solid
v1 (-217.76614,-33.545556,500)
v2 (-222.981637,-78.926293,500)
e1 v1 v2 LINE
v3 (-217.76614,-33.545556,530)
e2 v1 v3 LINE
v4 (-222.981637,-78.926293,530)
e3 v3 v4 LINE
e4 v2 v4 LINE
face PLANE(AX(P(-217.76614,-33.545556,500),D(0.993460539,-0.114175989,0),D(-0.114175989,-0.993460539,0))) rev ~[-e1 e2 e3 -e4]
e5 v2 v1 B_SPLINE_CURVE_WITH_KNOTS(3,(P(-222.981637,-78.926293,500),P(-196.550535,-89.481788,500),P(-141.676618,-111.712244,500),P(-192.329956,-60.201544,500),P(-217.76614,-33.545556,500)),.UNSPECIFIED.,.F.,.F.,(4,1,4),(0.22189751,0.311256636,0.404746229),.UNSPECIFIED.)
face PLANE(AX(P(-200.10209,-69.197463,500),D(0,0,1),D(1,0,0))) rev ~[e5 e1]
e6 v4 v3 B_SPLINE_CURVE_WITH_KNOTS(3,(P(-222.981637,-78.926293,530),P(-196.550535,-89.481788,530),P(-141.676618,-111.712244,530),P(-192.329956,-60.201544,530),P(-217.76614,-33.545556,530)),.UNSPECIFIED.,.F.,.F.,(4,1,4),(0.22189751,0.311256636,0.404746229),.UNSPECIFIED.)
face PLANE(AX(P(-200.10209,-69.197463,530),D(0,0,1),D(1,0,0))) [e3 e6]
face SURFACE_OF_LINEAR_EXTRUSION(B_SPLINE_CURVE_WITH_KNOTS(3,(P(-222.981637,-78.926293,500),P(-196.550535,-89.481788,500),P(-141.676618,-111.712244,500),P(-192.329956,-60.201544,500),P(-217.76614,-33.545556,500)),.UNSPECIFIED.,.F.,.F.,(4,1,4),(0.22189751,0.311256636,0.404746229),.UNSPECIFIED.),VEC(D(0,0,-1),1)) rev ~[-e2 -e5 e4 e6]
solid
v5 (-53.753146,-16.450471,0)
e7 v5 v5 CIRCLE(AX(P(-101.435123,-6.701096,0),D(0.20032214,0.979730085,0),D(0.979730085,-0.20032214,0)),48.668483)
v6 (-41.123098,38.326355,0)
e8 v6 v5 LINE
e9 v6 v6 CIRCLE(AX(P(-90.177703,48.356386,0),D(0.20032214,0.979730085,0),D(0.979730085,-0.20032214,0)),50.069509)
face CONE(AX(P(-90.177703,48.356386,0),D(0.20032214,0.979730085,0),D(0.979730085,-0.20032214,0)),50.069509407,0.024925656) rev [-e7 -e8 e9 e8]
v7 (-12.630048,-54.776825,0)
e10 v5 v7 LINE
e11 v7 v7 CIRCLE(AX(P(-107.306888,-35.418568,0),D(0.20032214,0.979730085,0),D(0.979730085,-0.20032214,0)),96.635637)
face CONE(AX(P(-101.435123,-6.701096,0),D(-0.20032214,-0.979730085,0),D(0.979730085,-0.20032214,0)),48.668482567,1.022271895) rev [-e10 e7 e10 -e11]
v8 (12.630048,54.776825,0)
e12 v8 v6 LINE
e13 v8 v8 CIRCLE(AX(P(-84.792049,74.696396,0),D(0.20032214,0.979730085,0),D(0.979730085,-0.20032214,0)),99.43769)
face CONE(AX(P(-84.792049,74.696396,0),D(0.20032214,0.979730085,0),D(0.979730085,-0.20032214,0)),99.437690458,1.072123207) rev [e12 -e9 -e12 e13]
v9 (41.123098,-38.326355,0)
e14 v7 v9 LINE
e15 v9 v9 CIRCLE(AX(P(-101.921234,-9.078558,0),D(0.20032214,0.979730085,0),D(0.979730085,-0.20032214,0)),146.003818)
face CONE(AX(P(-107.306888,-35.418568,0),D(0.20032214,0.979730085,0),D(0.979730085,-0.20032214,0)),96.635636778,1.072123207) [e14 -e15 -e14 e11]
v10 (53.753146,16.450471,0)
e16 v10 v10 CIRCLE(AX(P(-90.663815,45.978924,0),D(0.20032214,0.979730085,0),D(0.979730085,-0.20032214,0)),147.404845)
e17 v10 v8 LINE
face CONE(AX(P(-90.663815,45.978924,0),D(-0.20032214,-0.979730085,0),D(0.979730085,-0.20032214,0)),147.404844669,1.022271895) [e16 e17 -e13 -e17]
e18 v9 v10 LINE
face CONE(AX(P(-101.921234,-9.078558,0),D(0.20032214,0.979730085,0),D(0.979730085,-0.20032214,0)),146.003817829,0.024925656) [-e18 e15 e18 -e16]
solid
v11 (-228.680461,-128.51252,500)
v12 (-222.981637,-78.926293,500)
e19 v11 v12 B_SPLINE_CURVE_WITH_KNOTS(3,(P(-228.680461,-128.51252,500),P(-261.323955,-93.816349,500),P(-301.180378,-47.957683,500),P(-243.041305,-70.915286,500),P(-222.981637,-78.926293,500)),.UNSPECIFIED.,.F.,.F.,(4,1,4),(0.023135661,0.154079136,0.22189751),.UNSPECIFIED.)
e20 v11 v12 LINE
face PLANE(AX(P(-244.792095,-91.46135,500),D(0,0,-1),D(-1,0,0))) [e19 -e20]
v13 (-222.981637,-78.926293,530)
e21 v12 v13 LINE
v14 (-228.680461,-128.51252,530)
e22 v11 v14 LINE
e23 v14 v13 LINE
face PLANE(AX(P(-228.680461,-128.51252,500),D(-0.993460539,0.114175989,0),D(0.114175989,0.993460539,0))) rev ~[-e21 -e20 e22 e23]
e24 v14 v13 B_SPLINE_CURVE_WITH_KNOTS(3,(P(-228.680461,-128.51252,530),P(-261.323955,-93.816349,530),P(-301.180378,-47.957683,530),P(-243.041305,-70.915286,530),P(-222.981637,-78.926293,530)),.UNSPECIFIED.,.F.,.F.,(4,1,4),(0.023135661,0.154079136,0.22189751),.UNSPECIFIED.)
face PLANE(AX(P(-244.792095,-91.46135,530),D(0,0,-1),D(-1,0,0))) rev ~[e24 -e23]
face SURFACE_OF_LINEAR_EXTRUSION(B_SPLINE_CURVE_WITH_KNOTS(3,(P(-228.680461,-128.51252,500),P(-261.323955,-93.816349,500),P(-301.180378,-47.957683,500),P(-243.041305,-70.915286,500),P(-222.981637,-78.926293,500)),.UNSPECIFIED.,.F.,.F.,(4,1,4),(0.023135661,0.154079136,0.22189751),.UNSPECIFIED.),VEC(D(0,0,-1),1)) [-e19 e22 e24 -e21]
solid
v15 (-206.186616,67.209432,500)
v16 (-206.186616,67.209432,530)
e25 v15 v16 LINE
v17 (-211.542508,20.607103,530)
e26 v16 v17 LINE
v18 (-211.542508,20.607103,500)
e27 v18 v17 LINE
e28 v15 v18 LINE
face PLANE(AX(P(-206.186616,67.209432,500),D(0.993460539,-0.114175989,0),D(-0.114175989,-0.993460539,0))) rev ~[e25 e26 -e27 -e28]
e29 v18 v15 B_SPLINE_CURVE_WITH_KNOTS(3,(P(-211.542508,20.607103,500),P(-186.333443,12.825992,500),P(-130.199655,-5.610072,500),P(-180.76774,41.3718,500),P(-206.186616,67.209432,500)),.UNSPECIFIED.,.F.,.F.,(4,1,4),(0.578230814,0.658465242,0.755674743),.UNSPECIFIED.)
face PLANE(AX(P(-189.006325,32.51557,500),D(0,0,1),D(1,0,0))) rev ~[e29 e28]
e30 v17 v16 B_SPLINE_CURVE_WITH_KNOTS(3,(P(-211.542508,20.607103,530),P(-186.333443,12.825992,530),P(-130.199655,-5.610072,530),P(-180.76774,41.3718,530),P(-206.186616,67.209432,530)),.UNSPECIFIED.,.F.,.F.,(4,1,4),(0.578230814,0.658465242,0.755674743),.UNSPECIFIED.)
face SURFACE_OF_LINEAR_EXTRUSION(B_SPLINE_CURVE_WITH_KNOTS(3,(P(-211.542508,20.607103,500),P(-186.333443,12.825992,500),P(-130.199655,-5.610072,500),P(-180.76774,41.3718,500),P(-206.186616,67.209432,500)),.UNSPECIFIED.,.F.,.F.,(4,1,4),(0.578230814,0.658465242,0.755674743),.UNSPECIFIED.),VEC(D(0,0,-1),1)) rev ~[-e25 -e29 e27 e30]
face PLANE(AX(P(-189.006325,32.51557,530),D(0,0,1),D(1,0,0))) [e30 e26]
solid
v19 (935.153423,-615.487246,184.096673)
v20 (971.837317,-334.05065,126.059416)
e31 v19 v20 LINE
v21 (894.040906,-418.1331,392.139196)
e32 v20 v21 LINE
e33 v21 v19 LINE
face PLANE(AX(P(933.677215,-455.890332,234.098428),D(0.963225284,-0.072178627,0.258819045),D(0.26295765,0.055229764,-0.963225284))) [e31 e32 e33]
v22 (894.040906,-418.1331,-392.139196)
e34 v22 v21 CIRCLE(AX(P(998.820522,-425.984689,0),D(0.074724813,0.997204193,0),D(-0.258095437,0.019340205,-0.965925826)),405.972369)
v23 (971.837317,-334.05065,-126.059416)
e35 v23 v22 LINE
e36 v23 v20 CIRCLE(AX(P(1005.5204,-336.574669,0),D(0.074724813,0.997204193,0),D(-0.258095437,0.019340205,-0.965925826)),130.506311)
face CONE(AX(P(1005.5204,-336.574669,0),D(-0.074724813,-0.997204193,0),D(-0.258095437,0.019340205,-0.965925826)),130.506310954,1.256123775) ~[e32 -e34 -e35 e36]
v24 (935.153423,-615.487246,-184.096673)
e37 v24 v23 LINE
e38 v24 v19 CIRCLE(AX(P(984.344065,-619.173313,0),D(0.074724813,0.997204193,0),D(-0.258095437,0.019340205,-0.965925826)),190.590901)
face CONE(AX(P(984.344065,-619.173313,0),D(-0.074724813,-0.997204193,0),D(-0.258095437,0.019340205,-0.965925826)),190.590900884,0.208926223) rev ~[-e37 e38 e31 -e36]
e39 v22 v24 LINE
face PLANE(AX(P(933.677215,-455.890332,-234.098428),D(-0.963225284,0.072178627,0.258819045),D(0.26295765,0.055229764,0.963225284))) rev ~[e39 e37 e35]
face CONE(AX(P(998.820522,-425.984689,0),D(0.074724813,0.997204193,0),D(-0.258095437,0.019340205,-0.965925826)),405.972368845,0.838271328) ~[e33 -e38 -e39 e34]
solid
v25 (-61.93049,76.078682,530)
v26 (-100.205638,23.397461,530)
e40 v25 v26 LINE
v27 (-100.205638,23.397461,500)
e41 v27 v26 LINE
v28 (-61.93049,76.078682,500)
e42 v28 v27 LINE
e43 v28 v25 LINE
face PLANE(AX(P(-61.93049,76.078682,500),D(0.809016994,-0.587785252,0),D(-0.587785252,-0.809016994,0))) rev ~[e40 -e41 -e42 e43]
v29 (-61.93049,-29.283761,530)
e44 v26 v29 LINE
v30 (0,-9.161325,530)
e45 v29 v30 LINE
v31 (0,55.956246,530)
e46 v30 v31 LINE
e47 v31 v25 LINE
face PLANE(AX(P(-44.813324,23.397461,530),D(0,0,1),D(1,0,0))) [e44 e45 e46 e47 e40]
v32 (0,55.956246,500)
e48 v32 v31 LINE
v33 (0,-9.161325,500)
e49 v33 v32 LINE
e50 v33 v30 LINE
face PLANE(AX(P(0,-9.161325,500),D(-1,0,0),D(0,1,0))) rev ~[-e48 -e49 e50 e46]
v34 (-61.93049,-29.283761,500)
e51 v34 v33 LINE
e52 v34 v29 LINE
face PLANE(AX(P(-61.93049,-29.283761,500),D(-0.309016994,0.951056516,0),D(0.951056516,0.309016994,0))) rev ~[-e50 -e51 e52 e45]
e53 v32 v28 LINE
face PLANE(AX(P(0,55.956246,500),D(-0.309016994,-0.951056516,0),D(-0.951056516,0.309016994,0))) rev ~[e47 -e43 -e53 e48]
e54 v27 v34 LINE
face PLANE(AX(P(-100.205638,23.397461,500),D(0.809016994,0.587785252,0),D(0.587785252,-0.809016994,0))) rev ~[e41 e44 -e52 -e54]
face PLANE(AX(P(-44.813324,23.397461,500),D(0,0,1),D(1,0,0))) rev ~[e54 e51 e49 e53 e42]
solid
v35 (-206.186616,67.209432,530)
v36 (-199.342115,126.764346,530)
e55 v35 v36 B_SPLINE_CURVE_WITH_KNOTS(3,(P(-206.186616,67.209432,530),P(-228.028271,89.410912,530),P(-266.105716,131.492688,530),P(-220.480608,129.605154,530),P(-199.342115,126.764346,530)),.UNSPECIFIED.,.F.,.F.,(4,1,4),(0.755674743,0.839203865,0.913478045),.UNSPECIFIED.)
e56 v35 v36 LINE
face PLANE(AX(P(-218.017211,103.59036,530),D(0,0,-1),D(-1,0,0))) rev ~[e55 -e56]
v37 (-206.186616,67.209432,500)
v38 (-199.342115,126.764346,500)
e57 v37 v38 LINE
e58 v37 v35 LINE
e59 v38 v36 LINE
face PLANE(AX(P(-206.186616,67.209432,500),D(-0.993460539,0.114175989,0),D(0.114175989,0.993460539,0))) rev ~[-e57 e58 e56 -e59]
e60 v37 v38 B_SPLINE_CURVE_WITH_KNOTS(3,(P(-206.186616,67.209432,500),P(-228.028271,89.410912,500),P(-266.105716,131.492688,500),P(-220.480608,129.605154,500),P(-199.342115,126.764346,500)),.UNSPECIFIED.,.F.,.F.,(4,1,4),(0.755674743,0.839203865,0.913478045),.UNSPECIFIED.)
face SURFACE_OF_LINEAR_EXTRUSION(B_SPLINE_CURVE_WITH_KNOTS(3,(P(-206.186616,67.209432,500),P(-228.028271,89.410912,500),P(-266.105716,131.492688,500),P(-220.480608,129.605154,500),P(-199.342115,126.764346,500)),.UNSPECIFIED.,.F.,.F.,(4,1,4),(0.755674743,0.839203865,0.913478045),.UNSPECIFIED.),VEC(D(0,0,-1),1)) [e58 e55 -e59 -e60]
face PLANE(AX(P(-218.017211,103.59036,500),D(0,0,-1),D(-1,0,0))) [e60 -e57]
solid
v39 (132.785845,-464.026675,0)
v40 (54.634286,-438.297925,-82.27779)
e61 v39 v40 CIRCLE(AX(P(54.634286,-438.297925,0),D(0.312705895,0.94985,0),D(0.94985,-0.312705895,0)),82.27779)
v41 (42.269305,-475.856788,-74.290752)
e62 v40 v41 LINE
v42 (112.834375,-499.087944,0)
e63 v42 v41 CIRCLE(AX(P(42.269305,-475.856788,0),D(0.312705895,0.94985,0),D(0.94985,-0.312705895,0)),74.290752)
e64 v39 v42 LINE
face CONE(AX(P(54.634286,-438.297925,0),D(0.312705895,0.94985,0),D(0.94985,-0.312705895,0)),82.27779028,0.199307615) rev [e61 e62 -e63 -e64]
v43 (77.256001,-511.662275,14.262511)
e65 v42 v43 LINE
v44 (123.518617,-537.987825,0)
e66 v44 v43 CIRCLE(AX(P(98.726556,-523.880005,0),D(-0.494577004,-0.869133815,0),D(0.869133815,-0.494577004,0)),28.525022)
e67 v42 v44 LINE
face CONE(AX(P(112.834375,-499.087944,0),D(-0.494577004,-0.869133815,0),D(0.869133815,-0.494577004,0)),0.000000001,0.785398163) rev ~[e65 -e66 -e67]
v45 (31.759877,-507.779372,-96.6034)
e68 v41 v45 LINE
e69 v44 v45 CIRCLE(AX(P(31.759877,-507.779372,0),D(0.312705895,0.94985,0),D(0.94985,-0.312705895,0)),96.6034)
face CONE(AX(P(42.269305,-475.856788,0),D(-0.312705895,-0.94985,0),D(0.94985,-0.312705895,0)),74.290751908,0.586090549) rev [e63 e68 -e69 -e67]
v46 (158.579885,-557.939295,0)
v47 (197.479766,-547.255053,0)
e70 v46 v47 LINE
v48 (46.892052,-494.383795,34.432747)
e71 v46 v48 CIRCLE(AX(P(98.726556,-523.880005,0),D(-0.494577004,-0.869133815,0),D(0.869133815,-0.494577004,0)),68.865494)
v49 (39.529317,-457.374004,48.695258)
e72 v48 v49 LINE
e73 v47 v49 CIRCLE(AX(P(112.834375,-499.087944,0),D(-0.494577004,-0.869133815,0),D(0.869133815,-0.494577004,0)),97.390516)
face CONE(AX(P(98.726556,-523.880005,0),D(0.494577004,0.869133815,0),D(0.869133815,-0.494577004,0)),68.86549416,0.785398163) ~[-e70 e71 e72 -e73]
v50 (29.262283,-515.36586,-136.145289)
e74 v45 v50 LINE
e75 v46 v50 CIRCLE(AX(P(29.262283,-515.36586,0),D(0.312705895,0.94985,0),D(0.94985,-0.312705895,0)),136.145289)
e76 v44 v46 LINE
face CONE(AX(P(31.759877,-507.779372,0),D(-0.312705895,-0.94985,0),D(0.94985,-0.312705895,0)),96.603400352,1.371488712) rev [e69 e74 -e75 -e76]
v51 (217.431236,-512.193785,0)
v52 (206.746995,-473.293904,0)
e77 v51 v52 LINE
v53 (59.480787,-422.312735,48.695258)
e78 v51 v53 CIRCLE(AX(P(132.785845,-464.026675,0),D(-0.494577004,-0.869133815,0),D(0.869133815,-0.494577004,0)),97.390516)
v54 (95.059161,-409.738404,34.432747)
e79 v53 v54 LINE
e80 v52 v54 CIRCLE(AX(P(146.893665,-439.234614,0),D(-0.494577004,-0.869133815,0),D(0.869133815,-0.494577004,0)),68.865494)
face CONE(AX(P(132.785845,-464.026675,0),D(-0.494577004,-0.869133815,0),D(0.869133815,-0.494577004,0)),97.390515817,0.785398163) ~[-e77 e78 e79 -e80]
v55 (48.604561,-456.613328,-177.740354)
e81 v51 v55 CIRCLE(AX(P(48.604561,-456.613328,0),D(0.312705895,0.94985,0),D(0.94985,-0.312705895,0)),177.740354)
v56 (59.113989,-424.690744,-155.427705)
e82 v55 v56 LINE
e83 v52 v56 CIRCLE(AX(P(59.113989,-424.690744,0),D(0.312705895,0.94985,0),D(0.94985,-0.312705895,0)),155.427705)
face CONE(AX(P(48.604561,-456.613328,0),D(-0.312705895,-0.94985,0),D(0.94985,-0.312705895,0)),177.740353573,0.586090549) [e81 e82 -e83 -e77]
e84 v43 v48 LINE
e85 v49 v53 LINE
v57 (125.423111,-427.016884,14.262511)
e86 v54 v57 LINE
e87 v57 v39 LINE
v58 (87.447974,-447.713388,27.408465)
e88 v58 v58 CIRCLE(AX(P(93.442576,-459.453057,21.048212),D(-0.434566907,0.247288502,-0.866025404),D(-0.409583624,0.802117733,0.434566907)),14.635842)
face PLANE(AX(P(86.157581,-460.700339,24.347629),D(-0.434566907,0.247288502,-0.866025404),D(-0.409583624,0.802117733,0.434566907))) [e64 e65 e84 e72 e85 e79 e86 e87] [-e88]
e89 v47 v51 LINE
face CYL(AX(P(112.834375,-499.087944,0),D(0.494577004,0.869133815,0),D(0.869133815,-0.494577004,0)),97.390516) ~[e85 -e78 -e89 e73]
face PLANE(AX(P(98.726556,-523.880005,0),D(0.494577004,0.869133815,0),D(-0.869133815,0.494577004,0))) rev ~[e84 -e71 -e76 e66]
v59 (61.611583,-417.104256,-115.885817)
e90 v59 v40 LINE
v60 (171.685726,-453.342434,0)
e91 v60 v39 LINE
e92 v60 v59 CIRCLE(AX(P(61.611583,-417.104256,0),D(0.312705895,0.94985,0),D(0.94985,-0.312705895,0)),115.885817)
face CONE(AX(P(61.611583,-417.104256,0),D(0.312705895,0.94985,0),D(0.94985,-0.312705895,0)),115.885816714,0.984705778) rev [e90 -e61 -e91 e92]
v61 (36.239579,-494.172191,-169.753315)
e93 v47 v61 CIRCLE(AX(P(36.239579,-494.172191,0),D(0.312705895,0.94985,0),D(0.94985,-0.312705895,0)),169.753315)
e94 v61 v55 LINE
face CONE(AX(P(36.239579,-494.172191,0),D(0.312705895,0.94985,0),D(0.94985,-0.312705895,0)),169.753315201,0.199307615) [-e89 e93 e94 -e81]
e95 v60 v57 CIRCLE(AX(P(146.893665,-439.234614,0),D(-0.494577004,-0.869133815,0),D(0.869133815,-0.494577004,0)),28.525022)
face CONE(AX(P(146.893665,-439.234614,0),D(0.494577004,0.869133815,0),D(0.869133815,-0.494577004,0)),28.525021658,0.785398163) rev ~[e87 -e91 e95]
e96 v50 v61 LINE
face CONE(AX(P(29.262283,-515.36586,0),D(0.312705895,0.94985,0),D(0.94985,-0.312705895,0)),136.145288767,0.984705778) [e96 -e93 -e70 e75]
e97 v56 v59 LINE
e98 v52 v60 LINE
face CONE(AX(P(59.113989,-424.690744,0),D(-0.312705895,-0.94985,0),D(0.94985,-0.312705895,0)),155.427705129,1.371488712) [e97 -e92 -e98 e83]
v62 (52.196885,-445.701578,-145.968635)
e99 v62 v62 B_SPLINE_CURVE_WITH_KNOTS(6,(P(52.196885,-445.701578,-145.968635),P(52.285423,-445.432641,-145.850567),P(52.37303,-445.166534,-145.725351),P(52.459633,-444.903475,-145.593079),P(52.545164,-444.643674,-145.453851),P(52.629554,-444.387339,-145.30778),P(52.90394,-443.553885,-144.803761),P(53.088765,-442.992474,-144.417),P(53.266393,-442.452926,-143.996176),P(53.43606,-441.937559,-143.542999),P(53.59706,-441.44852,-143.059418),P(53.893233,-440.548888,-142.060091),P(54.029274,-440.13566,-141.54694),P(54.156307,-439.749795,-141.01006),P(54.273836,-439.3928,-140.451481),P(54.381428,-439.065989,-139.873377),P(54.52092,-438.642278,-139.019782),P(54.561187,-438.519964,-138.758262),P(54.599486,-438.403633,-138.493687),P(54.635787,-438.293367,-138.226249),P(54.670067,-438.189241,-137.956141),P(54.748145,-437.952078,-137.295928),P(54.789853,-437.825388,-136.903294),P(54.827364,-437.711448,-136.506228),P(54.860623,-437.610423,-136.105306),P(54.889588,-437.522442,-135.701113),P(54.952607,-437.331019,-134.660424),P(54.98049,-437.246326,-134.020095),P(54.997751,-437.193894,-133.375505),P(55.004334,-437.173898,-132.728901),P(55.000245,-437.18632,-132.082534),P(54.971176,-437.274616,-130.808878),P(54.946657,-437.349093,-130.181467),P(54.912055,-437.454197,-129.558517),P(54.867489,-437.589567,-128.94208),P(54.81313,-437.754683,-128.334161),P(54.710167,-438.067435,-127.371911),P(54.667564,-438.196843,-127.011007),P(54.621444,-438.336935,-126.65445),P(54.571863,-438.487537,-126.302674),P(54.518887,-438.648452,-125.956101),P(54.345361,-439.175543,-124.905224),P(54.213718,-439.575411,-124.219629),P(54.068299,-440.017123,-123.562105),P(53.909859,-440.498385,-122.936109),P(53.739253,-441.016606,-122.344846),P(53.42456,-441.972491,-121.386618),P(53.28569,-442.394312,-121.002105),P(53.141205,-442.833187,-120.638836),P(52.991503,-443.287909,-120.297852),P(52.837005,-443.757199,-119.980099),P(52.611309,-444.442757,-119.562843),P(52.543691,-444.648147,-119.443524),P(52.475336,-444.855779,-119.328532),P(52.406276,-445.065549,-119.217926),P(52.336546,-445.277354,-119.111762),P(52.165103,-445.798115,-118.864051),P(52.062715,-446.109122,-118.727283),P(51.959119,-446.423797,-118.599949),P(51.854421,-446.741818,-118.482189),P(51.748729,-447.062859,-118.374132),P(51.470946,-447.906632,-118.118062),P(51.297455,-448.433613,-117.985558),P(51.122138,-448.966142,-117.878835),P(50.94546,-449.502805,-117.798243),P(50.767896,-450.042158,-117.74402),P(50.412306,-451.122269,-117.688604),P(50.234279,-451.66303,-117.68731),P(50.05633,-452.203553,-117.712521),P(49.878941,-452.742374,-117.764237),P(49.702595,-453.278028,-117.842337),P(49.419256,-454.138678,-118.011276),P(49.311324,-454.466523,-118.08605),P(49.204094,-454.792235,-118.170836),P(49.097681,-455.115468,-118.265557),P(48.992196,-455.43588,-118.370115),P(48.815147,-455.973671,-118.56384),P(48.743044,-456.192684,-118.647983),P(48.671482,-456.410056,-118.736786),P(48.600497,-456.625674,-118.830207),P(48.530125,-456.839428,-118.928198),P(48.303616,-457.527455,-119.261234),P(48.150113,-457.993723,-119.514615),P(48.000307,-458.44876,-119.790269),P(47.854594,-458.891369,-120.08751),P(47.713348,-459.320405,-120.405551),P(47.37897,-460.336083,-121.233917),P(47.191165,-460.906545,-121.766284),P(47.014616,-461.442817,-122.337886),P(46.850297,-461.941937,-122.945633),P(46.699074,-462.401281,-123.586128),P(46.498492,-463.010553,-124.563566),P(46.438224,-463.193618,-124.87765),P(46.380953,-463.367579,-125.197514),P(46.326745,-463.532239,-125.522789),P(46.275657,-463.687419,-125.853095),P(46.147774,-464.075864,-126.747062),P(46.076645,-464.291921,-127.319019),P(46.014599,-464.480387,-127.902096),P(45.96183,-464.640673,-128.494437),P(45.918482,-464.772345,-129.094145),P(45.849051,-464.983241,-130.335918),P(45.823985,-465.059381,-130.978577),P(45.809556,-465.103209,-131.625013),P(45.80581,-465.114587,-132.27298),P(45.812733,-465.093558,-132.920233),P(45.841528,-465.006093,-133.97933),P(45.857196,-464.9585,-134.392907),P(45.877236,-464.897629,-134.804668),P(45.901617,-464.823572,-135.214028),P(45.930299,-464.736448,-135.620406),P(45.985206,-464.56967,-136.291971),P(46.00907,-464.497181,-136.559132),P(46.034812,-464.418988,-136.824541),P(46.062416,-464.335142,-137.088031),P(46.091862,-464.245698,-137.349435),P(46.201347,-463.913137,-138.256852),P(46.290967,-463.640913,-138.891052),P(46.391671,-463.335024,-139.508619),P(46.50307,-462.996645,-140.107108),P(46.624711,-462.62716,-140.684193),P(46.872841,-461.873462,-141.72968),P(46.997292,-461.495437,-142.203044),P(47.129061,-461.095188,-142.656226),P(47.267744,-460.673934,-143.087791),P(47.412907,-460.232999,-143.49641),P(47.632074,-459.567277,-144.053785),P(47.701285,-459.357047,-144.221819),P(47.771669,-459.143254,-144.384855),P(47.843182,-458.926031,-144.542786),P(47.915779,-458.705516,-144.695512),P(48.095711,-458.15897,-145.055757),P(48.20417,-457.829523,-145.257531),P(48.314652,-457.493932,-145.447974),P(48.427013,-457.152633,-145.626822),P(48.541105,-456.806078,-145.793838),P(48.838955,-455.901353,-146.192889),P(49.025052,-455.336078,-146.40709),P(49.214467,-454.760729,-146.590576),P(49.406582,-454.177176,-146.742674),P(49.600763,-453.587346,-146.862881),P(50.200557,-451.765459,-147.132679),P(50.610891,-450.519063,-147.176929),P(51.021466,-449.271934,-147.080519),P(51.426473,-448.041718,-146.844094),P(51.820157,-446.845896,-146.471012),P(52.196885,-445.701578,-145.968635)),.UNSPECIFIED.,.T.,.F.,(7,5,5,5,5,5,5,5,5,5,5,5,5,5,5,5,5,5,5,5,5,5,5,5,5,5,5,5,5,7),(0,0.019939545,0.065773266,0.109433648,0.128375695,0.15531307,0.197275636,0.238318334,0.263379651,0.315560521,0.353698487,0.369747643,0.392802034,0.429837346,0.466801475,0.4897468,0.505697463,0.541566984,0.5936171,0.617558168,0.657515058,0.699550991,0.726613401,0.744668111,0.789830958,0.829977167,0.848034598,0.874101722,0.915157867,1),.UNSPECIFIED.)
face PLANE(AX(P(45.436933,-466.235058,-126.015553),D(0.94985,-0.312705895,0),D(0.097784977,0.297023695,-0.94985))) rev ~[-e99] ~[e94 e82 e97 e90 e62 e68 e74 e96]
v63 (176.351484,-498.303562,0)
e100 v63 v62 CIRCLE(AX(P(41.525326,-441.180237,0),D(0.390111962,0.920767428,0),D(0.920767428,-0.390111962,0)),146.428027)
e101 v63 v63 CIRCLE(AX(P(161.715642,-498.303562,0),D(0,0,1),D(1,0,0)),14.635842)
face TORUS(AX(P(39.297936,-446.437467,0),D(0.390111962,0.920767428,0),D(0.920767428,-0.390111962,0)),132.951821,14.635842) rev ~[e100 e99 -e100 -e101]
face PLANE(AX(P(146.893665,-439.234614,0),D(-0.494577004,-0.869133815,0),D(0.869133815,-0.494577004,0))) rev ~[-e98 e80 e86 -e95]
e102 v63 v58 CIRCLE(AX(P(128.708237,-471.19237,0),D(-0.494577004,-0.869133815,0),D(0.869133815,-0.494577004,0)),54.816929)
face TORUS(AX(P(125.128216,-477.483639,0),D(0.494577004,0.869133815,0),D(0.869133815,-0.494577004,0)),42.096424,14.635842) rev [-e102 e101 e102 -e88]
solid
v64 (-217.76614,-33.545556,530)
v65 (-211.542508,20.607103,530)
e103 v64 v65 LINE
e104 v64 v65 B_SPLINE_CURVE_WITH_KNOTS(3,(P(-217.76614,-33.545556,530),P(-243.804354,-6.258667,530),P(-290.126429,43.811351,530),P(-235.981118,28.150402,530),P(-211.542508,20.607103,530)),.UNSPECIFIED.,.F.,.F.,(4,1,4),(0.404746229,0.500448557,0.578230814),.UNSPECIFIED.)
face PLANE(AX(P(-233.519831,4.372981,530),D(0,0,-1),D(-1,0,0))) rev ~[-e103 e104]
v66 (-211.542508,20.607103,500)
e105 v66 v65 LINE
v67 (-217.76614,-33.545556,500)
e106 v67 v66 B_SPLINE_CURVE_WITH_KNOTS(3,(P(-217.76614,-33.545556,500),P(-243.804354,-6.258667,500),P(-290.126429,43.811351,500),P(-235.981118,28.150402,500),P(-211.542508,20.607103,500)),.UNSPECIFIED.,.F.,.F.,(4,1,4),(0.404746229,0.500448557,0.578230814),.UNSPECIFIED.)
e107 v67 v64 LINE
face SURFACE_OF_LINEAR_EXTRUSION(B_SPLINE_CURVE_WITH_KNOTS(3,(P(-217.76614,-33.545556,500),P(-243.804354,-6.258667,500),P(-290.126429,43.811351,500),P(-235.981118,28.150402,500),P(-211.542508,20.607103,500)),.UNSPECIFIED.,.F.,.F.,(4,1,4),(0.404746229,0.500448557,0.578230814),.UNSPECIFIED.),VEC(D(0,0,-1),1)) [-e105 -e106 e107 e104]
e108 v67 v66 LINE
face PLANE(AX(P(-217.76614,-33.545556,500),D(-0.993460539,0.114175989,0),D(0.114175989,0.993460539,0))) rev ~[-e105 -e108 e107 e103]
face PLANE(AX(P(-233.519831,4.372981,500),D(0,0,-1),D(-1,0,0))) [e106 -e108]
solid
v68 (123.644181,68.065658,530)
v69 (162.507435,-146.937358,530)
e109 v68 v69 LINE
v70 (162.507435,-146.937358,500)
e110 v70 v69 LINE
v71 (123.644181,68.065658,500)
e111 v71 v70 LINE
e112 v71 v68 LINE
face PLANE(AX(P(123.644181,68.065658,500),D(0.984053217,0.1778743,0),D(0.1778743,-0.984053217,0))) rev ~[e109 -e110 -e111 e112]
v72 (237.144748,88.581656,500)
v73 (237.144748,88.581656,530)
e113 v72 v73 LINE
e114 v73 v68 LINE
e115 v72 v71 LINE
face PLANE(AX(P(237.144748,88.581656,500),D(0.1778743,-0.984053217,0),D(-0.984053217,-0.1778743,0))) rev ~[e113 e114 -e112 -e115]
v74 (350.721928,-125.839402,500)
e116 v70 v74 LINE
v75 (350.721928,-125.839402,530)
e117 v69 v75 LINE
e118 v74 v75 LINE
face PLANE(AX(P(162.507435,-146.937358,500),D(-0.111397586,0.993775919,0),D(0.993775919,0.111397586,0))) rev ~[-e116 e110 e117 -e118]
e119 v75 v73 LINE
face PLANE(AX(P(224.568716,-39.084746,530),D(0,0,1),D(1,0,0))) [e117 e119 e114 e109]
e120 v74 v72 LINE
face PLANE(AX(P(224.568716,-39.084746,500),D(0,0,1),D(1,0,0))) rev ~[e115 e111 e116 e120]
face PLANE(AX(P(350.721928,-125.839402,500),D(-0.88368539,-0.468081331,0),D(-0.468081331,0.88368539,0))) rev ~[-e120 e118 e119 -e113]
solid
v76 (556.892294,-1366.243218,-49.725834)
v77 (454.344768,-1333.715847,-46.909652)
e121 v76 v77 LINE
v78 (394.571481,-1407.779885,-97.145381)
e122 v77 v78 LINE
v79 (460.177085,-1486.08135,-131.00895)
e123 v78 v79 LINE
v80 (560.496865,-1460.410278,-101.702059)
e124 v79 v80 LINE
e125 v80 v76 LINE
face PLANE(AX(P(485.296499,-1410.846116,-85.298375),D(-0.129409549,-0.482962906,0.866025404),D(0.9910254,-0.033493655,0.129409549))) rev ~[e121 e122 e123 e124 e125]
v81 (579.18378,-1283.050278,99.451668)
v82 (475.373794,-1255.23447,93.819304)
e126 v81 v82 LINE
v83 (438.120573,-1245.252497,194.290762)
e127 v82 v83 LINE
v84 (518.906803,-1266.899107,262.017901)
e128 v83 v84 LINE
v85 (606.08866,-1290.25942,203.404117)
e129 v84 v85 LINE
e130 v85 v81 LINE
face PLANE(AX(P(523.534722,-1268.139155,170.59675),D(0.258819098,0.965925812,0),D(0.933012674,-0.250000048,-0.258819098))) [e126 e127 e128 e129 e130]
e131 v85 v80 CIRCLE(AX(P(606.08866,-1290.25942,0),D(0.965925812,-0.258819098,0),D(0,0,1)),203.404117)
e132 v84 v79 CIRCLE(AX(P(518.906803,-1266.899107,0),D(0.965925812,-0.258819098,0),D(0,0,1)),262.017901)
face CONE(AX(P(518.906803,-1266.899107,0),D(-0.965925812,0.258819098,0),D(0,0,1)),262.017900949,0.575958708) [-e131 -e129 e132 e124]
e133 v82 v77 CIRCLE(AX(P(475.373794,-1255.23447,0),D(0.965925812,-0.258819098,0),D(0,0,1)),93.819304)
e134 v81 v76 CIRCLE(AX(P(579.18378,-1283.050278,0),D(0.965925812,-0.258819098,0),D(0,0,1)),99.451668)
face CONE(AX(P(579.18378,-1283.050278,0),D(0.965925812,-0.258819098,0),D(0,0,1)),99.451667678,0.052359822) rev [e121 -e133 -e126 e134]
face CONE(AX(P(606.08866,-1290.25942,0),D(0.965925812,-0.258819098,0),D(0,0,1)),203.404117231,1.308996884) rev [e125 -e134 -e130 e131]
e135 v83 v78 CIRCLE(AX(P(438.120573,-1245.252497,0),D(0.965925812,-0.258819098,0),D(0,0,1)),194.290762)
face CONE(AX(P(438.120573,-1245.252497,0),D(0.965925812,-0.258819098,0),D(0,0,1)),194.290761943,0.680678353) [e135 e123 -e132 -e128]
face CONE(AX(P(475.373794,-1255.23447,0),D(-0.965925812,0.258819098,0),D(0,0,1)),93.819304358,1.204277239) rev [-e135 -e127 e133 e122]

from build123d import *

# Parameters (mm, degrees)
F4_ANGLE       = 90
F5_R           = 14.6358419548
F6_ANGLE       = 90
F4_FACE_R      = 14.6358419548
F7_ANGLE       = 150
F9_ANGLE_BACK  = 75
F9_ANGLE       = 150
F11_ANGLE_BACK = 90
F11_ANGLE      = 120
F14_DEPTH      = 30


with BuildPart() as f2:
    # F0 (on Top) → F2 (revolve)
    with BuildSketch(Plane.XY):
        Polygon((41.1230984632, -38.3263548902), (53.753146201, 16.4504705063), (12.6300477378, 54.7768253966), (-41.1230984632, 38.3263548902), (-53.753146201, -16.4504705063), (-12.6300477378, -54.7768253966), align=None)
    revolve(axis=Axis((-101.0606586933, -4.8696771264, 0), (0.2003221404, 0.9797300853, 0)))


with BuildPart() as f4:
    # F3 (on Top) → F4 (revolve)
    with BuildSketch(Plane.XY):
        Polygon((197.4797659549, -547.2550534879), (217.4312359658, -512.1937847461), (206.7469948207, -473.2939041224), (171.6857260789, -453.3424341116), (132.7858454552, -464.0266752566), (112.8343754444, -499.0879439985), (123.5186165894, -537.9878246221), (158.5798853313, -557.939294633), align=None)
    revolve(axis=Axis((33.4474323317, -502.6533901691, 0), (0.3127058951, 0.9498500004, 0)), revolution_arc=F4_ANGLE)

    # F5 (on face) → F6 (revolve, cut)
    with BuildSketch(Plane.XY):
        with Locations((161.7156416178, -498.3035624027)):
            Circle(F5_R)
    revolve(axis=Axis((2.8462186456, -532.4731618166, 0), (0.3901119624, 0.9207674282, 0)), revolution_arc=F6_ANGLE, mode=Mode.SUBTRACT)

    # F4_face (on face) → F7 (revolve)
    with BuildSketch(Plane(origin=(165.1328057051, -505.6408643723, 0), x_dir=(1, 0, 0), z_dir=(0, 0, 1))):
        Polygon((-6.5529203738, -52.2984302607), (32.3469602499, -41.6141891156), (52.2984302607, -6.5529203738), (41.6141891156, 32.3469602499), (6.5529203738, 52.2984302607), (-32.3469602499, 41.6141891156), (-52.2984302607, 6.5529203738), (-41.6141891156, -32.3469602499), align=None)
        with Locations((-3.4171640873, 7.3373019695)):
            Circle(F4_FACE_R, mode=Mode.SUBTRACT)
    revolve(axis=Axis((122.8101104498, -481.5573096275, 0), (-0.4945770036, -0.8691338145, 0)), revolution_arc=F7_ANGLE)


with BuildPart() as f9:
    # F8 (on Top) → F9 (revolve)
    with BuildSketch(Plane.XY, mode=Mode.PRIVATE) as f9_sk:
        Polygon((794.2860190573, -604.9314438156), (875.3789599237, -326.8226088234), (593.9831733704, -395.6484794617), align=None)
    revolve(f9_sk.sketch.rotate(Axis((999.4233250618, -417.9402664304, 0), (0.0747248131, 0.9972041929, 0)), -F9_ANGLE_BACK), axis=Axis((999.4233250618, -417.9402664304, 0), (0.0747248131, 0.9972041929, 0)), revolution_arc=F9_ANGLE)


with BuildPart() as f11:
    # F10 (on Top) → F11 (revolve)
    with BuildSketch(Plane.XY, mode=Mode.PRIVATE) as f11_sk:
        Polygon((553.4437894821, -1486.7327075837), (553.4437894821, -1379.1132110717), (451.091566044, -1345.8569577235), (387.8344131352, -1432.9229593277), (451.091566044, -1519.9889609319), align=None)
    revolve(f11_sk.sketch.rotate(Axis((527.5831520557, -1269.2239284515, 0), (0.965925812, -0.2588190985, 0)), -F11_ANGLE_BACK), axis=Axis((527.5831520557, -1269.2239284515, 0), (0.965925812, -0.2588190985, 0)), revolution_arc=F11_ANGLE)


with BuildPart() as f14:
    # F13 (on offset) → F14 (new body)
    with BuildSketch(Plane.XY.offset(500)):
        with BuildLine():
            Line((-217.7661401576, -33.5455555877), (-222.981637236, -78.9262926005))
            add(Edge.make_bspline(
                [(-222.981637236, -78.9262926005), (-196.5505352641, -89.4817884221), (-141.6766181094, -111.7122441999), (-192.3299561226, -60.2015441708), (-217.7661401576, -33.5455555877)],
                knots=[0.2218975102, 0.2218975102, 0.2218975102, 0.2218975102, 0.3112566363, 0.4047462295, 0.4047462295, 0.4047462295, 0.4047462295], degree=3))
        make_face()
    extrude(amount=F14_DEPTH)


with BuildPart() as f14b:
    # F13 (on offset) → F14, piece 2 (new body)
    with BuildSketch(Plane.XY.offset(500)):
        with BuildLine():
            add(Edge.make_bspline(
                [(-217.7661401576, -33.5455555877), (-243.8043538988, -6.2586666717), (-290.1264285124, 43.8113513039), (-235.981118483, 28.1504020808), (-211.5425076347, 20.6071026421)],
                knots=[0.4047462295, 0.4047462295, 0.4047462295, 0.4047462295, 0.5004485567, 0.5782308135, 0.5782308135, 0.5782308135, 0.5782308135], degree=3))
            Line((-217.7661401576, -33.5455555877), (-211.5425076347, 20.6071026421))
        make_face()
    extrude(amount=F14_DEPTH)


with BuildPart() as f14c:
    # F13 (on offset) → F14, piece 3 (new body)
    with BuildSketch(Plane.XY.offset(500)):
        with BuildLine():
            Line((-206.1866159048, 67.2094322784), (-211.5425076347, 20.6071026421))
            add(Edge.make_bspline(
                [(-211.5425076347, 20.6071026421), (-186.3334425436, 12.8259923437), (-130.1996552533, -5.6100716398), (-180.767739603, 41.371800285), (-206.1866159048, 67.2094322784)],
                knots=[0.5782308135, 0.5782308135, 0.5782308135, 0.5782308135, 0.658465242, 0.7556747426, 0.7556747426, 0.7556747426, 0.7556747426], degree=3))
        make_face()
    extrude(amount=F14_DEPTH)


with BuildPart() as f14d:
    # F13 (on offset) → F14, piece 4 (new body)
    with BuildSketch(Plane.XY.offset(500)):
        with BuildLine():
            add(Edge.make_bspline(
                [(-228.6804609973, -128.5125196666), (-261.3239550438, -93.8163487786), (-301.1803779267, -47.9576834287), (-243.0413046828, -70.9152858652), (-222.981637236, -78.9262926005)],
                knots=[0.0231356612, 0.0231356612, 0.0231356612, 0.0231356612, 0.1540791365, 0.2218975102, 0.2218975102, 0.2218975102, 0.2218975102], degree=3))
            Line((-228.6804609973, -128.5125196666), (-222.981637236, -78.9262926005))
        make_face()
    extrude(amount=F14_DEPTH)


with BuildPart() as f14e:
    # F13 (on offset) → F14, piece 5 (new body)
    with BuildSketch(Plane.XY.offset(500)):
        with BuildLine():
            add(Edge.make_bspline(
                [(-206.1866159048, 67.2094322784), (-228.0282713603, 89.4109115684), (-266.1057159013, 131.4926883625), (-220.4806079495, 129.6051543175), (-199.3421153564, 126.7643461625)],
                knots=[0.7556747426, 0.7556747426, 0.7556747426, 0.7556747426, 0.8392038646, 0.9134780452, 0.9134780452, 0.9134780452, 0.9134780452], degree=3))
            Line((-206.1866159048, 67.2094322784), (-199.3421153564, 126.7643461625))
        make_face()
    extrude(amount=F14_DEPTH)


with BuildPart() as f14f:
    # F13 (on offset) → F14, piece 6 (new body)
    with BuildSketch(Plane.XY.offset(500)):
        Polygon((0, -9.1613249574), (0, 55.9562461171), (-61.9304902957, 76.0786822116), (-100.2056382385, 23.3974605799), (-61.9304902957, -29.2837610518), align=None)
    extrude(amount=F14_DEPTH)


with BuildPart() as f14g:
    # F13 (on offset) → F14, piece 7 (new body)
    with BuildSketch(Plane.XY.offset(500)):
        Polygon((123.6441805959, 68.0656582117), (162.50743549, -146.9373577591), (350.7219277197, -125.8394022214), (237.144747892, 88.5816563597), align=None)
    extrude(amount=F14_DEPTH)


solid = Compound([f2.part, f4.part, f9.part, f11.part, f14.part, f14b.part, f14c.part, f14d.part, f14e.part, f14f.part, f14g.part])
